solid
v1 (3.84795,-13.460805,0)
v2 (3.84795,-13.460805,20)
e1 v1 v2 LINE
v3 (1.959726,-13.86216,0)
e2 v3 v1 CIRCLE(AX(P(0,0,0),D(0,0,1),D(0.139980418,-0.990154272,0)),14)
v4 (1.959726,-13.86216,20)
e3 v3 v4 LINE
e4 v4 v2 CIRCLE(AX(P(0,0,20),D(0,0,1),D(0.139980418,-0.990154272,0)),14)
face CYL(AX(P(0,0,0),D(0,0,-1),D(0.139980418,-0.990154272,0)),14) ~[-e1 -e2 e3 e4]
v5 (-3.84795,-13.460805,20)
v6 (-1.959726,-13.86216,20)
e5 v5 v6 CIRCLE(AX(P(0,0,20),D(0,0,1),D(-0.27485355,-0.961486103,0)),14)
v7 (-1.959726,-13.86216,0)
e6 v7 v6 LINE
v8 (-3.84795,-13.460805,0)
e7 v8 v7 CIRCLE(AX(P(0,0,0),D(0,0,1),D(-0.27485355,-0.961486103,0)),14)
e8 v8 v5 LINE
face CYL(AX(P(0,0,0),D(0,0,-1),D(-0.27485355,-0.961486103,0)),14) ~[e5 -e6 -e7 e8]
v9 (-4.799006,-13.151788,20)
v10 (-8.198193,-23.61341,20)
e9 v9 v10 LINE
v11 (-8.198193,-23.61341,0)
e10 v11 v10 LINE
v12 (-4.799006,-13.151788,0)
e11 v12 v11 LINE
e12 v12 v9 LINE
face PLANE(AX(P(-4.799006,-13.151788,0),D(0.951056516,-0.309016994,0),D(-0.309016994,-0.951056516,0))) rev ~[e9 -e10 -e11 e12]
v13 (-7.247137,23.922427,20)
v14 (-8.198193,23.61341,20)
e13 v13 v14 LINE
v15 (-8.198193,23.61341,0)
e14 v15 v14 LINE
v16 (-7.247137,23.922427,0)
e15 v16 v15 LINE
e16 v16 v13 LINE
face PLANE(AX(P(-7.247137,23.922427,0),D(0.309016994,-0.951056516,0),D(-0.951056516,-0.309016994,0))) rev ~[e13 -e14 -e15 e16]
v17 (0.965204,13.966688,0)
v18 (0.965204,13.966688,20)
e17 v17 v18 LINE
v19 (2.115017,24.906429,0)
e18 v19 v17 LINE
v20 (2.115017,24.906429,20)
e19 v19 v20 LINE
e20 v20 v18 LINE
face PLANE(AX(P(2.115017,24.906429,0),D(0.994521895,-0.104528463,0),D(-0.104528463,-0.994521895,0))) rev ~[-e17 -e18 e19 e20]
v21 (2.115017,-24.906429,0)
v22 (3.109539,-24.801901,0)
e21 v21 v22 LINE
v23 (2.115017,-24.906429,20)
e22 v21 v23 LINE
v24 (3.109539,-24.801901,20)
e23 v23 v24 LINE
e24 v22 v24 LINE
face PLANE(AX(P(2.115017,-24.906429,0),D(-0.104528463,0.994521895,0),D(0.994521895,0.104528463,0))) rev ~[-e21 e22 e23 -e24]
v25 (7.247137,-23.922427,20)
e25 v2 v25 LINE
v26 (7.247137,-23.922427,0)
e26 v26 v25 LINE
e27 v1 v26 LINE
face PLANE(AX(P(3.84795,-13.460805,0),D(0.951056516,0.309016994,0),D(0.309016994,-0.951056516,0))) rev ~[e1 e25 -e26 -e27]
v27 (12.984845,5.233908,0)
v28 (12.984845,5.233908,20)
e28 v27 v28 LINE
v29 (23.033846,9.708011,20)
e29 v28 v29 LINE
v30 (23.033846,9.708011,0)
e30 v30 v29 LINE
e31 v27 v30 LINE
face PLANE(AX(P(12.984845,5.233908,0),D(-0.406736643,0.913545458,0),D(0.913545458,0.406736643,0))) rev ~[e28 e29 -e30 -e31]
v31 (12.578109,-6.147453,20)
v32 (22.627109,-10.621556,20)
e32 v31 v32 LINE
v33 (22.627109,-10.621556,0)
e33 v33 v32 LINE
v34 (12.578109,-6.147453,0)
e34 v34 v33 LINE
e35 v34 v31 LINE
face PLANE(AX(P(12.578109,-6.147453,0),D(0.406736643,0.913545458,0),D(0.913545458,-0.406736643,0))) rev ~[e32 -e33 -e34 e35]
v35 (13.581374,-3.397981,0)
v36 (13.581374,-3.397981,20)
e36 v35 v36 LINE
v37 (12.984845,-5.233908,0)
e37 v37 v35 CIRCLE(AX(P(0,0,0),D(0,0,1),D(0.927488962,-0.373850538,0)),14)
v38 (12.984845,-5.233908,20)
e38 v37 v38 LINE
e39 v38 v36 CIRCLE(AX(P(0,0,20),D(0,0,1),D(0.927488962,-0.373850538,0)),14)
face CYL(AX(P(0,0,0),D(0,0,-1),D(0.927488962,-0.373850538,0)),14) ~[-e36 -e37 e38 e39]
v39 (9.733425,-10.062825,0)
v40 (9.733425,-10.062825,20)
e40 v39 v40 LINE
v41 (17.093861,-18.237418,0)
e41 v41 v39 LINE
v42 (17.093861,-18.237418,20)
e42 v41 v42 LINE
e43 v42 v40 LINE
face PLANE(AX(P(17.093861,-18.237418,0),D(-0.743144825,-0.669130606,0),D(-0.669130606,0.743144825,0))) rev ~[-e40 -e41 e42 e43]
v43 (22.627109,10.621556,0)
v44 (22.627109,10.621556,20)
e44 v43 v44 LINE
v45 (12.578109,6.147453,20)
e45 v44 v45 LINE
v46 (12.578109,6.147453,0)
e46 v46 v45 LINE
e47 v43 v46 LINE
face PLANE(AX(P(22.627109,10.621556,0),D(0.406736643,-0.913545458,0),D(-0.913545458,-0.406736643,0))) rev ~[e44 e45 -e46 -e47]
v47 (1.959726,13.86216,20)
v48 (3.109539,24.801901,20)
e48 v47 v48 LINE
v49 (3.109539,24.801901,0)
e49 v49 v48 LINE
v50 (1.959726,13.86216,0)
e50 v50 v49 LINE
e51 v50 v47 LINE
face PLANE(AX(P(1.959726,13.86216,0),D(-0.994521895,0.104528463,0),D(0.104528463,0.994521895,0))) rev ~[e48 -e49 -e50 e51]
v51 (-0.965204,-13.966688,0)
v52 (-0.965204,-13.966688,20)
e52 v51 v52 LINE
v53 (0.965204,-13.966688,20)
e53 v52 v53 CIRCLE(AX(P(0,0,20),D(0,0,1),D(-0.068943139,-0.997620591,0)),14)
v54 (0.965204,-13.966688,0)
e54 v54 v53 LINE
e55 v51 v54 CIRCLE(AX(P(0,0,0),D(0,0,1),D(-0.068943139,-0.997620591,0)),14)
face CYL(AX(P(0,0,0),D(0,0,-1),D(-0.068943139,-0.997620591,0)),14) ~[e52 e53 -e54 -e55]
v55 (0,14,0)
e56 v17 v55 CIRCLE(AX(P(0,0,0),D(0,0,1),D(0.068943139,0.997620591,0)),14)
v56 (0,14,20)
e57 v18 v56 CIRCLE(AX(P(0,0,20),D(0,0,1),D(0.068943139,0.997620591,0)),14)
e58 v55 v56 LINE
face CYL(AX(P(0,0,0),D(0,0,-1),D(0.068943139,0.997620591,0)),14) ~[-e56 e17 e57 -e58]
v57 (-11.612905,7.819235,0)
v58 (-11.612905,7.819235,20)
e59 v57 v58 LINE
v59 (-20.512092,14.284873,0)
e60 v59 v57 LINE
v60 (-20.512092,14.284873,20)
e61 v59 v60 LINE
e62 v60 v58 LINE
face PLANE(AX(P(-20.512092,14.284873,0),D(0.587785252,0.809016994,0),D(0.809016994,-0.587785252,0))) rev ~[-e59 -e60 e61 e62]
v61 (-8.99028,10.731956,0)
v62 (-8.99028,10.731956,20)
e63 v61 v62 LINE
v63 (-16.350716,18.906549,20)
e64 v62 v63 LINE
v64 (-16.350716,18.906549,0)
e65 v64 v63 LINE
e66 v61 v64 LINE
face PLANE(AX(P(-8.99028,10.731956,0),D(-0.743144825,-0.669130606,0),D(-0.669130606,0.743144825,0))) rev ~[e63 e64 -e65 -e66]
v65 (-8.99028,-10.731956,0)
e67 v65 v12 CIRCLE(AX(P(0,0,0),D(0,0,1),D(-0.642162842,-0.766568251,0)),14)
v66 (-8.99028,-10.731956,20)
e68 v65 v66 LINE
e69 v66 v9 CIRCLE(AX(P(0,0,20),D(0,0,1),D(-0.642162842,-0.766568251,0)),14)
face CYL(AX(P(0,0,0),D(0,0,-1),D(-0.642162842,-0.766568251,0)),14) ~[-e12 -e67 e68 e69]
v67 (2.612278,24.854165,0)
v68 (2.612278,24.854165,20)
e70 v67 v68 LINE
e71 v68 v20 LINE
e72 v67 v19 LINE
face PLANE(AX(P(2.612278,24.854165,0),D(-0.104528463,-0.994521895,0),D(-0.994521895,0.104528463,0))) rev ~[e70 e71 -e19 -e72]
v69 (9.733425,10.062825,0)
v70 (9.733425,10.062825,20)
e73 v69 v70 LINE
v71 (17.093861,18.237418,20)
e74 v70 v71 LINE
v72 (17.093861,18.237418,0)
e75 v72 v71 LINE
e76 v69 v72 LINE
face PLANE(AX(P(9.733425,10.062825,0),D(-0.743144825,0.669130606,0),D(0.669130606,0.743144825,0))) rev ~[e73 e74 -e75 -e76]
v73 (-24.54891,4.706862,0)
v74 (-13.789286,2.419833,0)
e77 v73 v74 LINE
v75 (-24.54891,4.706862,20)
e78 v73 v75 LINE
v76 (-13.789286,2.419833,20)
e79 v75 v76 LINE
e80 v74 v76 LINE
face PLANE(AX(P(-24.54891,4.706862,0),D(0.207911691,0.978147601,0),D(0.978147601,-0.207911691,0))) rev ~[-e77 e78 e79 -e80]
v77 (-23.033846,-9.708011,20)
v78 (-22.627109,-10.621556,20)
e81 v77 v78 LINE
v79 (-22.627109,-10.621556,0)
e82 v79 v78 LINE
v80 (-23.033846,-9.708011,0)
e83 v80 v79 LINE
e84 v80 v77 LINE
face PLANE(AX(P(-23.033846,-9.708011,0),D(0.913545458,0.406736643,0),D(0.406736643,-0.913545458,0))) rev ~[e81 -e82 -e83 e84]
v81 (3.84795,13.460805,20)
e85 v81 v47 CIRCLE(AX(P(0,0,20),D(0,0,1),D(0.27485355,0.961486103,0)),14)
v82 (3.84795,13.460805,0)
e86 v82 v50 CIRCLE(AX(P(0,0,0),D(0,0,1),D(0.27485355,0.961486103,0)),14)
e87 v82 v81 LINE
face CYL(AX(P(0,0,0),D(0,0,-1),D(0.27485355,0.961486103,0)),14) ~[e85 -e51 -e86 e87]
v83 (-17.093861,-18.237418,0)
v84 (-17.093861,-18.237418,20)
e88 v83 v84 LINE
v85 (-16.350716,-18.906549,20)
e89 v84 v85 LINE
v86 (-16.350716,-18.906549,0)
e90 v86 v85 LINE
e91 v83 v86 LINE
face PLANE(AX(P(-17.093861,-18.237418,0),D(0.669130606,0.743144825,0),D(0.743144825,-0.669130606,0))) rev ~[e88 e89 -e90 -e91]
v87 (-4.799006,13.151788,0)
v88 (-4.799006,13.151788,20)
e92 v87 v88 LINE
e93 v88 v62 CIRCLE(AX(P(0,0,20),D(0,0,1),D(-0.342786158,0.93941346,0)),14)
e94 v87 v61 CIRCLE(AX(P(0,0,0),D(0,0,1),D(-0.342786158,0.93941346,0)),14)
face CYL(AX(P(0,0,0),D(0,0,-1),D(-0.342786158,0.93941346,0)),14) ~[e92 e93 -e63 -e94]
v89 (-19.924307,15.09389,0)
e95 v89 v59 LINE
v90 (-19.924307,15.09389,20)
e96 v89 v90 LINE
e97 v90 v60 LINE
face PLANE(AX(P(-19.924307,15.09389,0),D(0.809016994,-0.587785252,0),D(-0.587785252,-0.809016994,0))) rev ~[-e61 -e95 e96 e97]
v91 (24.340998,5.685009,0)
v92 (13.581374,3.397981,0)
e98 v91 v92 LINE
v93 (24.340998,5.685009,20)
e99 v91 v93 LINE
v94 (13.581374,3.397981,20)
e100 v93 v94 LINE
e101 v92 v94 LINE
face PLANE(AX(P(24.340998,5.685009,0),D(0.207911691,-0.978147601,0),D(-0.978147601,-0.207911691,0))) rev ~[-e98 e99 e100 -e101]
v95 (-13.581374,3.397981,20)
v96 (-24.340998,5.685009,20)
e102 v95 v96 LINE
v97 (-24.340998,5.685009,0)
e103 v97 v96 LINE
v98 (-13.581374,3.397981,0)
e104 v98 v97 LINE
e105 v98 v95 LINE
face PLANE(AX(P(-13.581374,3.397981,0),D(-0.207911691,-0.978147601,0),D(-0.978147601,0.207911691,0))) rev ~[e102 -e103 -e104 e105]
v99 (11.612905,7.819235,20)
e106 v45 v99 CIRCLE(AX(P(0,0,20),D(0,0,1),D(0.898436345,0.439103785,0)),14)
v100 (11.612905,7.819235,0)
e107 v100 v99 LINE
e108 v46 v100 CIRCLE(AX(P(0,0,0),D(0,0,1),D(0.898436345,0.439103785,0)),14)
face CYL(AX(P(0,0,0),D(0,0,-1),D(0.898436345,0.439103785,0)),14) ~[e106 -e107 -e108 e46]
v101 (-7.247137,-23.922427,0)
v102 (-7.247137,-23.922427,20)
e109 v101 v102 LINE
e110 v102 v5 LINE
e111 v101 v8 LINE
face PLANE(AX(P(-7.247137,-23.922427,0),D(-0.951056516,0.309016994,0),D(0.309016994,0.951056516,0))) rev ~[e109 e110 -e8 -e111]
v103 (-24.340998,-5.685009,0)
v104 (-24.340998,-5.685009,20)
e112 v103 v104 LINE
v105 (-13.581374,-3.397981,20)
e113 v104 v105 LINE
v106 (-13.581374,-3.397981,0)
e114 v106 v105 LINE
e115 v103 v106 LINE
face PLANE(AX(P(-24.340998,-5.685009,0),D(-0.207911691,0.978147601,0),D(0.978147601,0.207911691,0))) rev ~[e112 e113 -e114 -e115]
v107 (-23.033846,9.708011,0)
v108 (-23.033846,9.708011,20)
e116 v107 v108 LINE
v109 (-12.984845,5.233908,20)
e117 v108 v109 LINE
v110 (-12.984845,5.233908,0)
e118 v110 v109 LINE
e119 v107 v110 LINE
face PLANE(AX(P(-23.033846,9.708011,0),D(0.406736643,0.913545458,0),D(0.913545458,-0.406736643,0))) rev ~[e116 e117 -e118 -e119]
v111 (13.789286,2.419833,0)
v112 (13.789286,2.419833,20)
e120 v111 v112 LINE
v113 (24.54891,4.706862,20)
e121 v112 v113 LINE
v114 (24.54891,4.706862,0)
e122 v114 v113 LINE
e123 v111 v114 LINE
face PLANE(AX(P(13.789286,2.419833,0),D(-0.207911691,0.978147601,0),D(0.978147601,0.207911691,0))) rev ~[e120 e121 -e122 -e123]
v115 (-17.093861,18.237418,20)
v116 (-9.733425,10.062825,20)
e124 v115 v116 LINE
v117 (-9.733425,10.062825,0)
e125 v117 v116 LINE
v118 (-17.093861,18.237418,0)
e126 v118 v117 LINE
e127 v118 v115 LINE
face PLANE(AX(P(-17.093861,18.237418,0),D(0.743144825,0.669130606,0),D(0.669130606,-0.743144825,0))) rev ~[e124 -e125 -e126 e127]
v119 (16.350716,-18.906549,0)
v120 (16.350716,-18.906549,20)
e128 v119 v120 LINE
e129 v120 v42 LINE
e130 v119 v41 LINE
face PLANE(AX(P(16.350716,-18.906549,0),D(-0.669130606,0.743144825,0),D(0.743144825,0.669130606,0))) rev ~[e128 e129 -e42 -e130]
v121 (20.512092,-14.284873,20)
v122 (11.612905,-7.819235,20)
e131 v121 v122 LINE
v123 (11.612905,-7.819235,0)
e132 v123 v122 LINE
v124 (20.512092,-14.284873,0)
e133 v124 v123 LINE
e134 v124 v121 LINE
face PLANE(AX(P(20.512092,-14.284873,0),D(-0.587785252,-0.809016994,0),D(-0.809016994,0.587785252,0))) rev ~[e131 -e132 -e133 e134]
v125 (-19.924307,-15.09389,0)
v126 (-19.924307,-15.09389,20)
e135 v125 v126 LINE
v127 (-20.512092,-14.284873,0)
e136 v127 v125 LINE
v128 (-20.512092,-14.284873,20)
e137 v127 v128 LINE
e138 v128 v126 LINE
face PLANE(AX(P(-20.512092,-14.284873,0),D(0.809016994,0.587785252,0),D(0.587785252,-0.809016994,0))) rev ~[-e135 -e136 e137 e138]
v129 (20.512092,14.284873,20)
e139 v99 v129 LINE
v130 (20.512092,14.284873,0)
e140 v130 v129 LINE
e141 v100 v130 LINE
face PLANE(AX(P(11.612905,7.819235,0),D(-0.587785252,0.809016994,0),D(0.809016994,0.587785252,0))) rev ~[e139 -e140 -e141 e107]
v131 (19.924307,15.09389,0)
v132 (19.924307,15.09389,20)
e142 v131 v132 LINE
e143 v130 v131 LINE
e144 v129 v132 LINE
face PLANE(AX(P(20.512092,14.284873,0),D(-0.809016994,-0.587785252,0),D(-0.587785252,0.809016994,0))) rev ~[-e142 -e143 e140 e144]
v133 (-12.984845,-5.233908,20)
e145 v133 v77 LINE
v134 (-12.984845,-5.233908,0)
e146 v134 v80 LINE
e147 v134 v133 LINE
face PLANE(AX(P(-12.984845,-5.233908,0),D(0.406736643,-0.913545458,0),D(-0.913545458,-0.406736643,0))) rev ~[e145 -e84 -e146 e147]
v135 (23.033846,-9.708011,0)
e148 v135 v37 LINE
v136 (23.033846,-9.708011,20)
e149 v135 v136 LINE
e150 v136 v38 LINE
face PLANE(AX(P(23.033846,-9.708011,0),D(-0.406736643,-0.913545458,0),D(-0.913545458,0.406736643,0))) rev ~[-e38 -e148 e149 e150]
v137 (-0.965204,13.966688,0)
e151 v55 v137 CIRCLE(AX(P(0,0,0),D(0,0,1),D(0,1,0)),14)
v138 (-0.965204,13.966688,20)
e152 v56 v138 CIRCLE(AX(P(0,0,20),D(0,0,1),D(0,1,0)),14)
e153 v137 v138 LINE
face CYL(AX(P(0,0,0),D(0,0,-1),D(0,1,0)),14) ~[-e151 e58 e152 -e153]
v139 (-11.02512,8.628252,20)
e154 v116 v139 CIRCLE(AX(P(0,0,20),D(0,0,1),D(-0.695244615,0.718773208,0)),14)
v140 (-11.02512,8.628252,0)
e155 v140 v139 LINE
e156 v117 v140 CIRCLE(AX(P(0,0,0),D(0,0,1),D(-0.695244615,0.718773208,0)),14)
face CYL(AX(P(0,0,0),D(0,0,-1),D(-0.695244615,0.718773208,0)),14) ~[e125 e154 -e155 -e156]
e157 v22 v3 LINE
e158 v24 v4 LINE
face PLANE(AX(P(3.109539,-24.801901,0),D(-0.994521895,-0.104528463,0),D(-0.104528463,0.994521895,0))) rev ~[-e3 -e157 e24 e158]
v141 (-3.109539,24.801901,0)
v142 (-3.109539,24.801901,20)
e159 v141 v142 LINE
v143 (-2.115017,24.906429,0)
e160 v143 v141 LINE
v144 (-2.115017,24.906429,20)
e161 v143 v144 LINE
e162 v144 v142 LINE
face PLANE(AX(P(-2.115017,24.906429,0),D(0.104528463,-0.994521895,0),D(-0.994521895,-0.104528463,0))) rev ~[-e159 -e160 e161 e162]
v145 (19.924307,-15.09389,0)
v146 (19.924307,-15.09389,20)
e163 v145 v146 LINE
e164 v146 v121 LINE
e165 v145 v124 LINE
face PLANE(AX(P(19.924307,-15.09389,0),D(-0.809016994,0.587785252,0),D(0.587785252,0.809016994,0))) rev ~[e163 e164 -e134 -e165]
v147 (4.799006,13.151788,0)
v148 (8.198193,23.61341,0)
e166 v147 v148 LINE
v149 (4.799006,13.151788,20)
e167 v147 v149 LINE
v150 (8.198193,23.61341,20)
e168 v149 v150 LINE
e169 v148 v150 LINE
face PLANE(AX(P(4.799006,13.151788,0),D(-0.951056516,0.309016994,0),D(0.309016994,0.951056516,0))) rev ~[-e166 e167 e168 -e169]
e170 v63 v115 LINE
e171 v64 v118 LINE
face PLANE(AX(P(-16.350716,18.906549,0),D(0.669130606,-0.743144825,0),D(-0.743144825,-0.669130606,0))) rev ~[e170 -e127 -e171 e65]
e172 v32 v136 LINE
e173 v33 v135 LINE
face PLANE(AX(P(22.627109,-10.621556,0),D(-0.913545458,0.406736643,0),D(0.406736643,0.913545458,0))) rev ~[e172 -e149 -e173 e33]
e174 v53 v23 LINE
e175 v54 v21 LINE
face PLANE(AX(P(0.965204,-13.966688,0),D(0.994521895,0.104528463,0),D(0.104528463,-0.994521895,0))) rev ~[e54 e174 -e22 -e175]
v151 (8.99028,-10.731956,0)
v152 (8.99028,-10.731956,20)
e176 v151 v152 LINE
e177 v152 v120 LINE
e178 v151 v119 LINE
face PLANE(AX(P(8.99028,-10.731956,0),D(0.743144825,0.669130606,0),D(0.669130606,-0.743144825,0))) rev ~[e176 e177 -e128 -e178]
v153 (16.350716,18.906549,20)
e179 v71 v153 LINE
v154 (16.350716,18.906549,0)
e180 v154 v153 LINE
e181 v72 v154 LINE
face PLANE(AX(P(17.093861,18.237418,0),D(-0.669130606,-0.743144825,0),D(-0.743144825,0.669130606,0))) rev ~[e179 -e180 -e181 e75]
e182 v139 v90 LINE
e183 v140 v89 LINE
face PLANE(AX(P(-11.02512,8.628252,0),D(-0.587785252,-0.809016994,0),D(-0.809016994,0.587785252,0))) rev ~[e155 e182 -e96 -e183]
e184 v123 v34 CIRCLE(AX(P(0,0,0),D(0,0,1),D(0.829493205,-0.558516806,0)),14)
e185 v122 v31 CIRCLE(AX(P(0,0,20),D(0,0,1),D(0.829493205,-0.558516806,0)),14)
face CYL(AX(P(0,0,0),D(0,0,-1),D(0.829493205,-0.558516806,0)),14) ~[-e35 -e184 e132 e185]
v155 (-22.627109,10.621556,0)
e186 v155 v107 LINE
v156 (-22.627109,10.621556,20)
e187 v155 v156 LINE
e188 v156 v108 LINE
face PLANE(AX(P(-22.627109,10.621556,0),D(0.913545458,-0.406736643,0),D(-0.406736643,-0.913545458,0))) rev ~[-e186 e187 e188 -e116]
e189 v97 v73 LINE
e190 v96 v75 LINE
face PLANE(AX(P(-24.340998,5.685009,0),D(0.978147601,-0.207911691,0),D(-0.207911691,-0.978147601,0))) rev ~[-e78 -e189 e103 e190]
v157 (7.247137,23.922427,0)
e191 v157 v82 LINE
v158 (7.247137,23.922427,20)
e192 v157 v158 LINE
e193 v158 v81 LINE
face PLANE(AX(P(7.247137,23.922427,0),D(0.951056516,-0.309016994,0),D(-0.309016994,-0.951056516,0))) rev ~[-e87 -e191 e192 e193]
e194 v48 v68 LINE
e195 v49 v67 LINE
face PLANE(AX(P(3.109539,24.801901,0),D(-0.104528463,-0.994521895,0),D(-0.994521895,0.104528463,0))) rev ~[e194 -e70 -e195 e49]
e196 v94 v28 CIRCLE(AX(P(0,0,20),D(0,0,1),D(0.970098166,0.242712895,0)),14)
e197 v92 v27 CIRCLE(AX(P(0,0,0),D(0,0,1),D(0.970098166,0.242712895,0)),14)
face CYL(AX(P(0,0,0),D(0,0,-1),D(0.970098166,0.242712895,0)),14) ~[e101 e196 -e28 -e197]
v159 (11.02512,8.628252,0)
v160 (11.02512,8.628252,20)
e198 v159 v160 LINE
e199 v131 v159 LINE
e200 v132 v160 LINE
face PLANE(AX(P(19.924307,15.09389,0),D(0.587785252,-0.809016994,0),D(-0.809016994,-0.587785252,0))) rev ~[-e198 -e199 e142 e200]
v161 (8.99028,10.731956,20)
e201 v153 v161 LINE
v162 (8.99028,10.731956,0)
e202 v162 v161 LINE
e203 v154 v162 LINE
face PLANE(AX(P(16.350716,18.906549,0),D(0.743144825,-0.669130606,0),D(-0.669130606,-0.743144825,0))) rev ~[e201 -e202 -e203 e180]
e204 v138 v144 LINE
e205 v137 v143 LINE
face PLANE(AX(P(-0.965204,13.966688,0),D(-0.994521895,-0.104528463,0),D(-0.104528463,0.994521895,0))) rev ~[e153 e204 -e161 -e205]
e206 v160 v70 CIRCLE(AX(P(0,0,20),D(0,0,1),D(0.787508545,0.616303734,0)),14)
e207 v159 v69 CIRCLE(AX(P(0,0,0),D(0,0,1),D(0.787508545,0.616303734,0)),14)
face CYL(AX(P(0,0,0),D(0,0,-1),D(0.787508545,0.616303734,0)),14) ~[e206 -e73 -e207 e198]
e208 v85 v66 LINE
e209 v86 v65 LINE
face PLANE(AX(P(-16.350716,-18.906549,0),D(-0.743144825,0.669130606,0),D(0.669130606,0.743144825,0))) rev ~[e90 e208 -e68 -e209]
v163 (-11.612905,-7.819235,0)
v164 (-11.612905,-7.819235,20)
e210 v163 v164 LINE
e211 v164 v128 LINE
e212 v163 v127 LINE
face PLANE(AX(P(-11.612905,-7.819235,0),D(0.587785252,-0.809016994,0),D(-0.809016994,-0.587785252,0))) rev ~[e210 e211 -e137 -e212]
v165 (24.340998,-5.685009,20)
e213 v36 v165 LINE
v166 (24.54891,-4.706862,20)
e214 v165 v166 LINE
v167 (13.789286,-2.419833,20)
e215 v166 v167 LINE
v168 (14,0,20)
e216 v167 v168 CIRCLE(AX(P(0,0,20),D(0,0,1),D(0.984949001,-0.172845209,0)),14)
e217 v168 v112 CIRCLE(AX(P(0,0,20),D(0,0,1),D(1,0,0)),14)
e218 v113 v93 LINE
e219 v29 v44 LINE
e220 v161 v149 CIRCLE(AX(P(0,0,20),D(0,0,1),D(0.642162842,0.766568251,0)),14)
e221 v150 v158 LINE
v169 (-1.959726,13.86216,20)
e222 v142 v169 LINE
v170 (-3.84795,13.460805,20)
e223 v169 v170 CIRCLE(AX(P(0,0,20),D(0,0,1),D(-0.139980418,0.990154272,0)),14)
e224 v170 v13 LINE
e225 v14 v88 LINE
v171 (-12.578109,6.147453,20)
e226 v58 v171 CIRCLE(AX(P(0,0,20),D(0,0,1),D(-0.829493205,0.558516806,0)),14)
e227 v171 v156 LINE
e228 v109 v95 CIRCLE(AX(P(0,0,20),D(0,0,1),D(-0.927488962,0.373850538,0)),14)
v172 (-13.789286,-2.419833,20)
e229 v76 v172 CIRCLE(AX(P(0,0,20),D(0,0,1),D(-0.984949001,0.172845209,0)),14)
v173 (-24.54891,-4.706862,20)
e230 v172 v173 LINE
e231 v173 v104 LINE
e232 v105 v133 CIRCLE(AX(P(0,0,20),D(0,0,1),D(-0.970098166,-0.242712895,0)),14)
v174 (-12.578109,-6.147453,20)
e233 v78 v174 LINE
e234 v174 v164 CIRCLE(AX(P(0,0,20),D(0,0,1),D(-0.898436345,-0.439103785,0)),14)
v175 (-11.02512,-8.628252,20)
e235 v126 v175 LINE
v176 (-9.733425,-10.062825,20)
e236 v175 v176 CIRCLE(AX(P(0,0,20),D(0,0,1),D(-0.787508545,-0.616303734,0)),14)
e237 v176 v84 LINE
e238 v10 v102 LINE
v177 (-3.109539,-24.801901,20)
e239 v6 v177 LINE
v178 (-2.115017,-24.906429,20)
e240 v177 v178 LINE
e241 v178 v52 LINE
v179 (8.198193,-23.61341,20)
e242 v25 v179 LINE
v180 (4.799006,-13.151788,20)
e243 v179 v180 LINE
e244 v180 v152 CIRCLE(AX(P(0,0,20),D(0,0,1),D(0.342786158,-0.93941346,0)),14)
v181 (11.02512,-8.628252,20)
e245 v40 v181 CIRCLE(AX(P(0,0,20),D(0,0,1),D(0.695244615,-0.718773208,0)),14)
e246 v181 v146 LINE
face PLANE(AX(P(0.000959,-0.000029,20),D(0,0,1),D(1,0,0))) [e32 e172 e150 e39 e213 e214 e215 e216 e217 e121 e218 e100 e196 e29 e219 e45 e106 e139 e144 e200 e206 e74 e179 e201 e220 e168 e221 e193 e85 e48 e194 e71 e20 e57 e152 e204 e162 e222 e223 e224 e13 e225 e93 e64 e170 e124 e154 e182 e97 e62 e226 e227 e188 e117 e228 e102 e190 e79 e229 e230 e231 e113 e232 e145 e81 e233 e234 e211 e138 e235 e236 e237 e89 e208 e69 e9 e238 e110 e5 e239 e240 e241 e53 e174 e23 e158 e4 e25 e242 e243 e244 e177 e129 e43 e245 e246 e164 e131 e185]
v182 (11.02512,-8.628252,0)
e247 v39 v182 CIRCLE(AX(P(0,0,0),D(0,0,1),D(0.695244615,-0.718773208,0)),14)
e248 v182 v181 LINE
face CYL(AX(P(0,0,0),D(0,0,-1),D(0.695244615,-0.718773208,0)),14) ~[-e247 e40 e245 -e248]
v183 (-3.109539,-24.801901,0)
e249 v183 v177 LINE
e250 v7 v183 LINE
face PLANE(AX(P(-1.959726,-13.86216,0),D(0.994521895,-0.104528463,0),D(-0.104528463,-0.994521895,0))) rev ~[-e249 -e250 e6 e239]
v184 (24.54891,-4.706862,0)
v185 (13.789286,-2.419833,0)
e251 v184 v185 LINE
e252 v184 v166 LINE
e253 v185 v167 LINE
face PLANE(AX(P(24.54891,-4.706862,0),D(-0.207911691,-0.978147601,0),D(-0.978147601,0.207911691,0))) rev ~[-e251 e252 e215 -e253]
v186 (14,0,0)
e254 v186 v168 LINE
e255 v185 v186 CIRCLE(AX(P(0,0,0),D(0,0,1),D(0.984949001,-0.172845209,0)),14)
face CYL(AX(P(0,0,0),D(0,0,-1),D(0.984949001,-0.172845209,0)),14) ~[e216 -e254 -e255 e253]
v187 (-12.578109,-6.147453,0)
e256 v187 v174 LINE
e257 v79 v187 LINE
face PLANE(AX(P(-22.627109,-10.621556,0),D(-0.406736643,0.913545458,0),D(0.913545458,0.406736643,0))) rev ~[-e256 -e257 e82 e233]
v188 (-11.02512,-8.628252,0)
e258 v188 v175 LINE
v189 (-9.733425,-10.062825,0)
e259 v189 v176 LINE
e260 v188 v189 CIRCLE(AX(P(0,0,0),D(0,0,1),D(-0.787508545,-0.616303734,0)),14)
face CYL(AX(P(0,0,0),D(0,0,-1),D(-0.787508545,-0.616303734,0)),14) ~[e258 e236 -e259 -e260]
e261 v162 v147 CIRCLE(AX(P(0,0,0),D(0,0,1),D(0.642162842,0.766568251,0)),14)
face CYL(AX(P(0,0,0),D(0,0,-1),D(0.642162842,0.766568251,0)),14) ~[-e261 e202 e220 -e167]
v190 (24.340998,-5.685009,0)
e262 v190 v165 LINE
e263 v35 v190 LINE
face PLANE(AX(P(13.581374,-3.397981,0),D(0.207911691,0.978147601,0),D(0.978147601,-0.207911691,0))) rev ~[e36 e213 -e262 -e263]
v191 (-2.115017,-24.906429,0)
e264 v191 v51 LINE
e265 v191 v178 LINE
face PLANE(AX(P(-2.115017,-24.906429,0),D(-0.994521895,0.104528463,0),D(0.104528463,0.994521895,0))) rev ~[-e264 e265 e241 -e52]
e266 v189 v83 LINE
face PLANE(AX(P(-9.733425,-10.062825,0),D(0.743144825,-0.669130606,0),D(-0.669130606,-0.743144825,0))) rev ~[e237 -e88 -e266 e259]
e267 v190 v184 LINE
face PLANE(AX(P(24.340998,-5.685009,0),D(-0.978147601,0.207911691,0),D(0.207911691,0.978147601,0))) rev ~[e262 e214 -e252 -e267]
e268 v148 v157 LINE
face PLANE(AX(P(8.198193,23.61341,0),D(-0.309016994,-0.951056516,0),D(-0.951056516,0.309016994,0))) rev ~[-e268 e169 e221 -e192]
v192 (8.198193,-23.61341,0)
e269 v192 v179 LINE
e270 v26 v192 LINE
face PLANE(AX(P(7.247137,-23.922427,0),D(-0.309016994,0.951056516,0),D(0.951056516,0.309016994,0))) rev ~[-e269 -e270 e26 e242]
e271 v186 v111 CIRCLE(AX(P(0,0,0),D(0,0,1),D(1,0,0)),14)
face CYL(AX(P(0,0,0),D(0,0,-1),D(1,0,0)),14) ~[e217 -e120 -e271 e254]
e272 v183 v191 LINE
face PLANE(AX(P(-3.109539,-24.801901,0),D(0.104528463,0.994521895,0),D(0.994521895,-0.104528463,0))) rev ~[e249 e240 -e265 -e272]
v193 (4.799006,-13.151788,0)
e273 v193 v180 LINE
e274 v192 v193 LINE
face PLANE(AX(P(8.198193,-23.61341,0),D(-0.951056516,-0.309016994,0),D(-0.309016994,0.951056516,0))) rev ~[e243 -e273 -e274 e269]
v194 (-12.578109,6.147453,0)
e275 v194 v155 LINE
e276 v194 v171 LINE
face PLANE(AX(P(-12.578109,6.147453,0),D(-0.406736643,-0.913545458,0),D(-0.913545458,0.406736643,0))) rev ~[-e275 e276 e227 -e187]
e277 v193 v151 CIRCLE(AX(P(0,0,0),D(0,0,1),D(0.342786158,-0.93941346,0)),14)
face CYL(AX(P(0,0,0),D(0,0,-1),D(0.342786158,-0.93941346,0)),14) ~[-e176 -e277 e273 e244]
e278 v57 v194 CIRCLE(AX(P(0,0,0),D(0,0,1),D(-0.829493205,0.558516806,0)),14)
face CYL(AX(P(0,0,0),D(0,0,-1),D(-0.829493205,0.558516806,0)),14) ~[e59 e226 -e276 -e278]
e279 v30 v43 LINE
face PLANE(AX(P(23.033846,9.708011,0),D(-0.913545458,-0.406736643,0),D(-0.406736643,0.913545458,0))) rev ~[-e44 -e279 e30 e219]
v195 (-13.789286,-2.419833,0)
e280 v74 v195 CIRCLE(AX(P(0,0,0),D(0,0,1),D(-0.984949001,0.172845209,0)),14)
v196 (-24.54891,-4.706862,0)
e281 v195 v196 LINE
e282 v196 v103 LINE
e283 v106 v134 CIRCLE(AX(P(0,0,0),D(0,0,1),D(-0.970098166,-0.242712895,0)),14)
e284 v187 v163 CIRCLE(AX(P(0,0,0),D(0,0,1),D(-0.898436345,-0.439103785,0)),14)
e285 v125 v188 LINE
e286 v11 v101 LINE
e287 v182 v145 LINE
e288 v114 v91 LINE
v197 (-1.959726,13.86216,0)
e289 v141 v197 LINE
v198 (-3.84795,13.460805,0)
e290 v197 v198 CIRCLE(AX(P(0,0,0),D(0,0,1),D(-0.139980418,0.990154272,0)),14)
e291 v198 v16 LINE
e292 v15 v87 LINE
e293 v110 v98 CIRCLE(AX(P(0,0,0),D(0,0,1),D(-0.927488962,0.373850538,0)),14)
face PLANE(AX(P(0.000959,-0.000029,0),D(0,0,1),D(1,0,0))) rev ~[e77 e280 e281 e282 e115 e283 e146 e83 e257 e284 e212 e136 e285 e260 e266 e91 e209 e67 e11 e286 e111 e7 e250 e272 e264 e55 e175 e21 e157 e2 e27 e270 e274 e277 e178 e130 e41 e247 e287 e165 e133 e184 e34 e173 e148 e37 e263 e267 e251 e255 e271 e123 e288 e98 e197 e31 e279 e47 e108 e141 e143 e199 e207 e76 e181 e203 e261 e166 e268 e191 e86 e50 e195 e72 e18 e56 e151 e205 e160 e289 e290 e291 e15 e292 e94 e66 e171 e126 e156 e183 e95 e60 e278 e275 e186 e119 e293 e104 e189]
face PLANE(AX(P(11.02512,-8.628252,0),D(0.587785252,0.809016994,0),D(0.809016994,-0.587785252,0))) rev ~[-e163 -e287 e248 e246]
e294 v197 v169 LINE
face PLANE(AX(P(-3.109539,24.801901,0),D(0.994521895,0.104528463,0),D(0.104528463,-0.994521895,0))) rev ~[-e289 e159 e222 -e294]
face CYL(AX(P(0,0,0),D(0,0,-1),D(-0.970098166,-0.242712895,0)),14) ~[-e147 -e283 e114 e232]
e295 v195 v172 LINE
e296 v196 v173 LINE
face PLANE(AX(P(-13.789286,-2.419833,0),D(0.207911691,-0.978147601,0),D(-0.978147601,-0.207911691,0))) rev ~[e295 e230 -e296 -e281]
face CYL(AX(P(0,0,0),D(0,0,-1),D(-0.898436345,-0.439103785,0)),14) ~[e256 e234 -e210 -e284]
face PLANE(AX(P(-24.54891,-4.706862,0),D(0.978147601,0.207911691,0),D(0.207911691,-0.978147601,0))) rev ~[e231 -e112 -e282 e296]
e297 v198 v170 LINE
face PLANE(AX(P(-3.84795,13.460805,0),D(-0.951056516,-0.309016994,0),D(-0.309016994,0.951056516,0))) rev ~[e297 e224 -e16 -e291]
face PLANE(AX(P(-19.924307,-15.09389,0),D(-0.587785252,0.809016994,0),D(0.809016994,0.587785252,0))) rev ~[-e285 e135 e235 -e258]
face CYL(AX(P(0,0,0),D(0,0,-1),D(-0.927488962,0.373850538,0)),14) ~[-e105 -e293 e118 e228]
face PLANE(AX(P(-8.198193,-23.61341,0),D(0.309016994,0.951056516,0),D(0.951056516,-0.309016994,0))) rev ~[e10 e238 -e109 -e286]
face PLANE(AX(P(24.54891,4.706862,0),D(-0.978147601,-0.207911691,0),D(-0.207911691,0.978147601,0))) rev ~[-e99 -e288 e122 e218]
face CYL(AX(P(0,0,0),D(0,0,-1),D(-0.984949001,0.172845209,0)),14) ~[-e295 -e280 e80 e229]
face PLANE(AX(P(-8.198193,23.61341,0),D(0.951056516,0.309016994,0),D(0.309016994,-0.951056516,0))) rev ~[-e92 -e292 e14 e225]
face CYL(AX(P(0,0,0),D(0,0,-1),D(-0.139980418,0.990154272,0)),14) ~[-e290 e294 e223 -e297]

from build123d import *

# Parameters (mm, degrees)
F1_DEPTH = 20


with BuildPart() as f1:
    # F0 (on Top) → F1 (new body)
    with BuildSketch(Plane.XY):
        with BuildLine():
            ThreePointArc((13.7892860083, -2.4198329244), (13.9472220194, -1.2144949329), (14, 0))
            ThreePointArc((14, 0), (13.9472220194, 1.2144949329), (13.7892860083, 2.4198329244))
            ThreePointArc((13.7892860083, 2.4198329244), (13.6940664103, 2.9107636714), (13.5813743175, 3.3979805251))
            ThreePointArc((13.5813743175, 3.3979805251), (13.3147912281, 4.3262379212), (12.98484547, 5.2339075383))
            ThreePointArc((12.98484547, 5.2339075383), (12.789636407, 5.6943130031), (12.578108827, 6.1474529959))
            ThreePointArc((12.578108827, 6.1474529959), (12.124355653, 7), (11.6129048765, 7.8192352777))
            ThreePointArc((11.6129048765, 7.8192352777), (11.3262379212, 8.2289935321), (11.0251196242, 8.6282522721))
            ThreePointArc((11.0251196242, 8.6282522721), (10.4040275567, 9.367828489), (9.733424615, 10.0628249147))
            ThreePointArc((9.733424615, 10.0628249147), (9.367828489, 10.4040275567), (8.9902797896, 10.731955521))
            ThreePointArc((8.9902797896, 10.731955521), (7, 12.124355653), (4.7990062187, 13.1517884454))
            ThreePointArc((4.7990062187, 13.1517884454), (4.3262379212, 13.3147912281), (3.8479497024, 13.4608054398))
            ThreePointArc((3.8479497024, 13.4608054398), (2.9107636714, 13.6940664103), (1.9597258458, 13.8621598104))
            Line((1.9597258458, 13.8621598104), (0.9652039504, 13.9666882737))
            ThreePointArc((0.9652039504, 13.9666882737), (0.4828893085, 13.99166959), (0, 14))
            ThreePointArc((0, 14), (-0.4828893085, 13.99166959), (-0.9652039504, 13.9666882737))
            ThreePointArc((-0.9652039504, 13.9666882737), (-1.4633984857, 13.9233065352), (-1.9597258458, 13.8621598104))
            ThreePointArc((-1.9597258458, 13.8621598104), (-2.9107636714, 13.6940664103), (-3.8479497024, 13.4608054398))
            ThreePointArc((-3.8479497024, 13.4608054398), (-4.3262379212, 13.3147912281), (-4.7990062187, 13.1517884454))
            ThreePointArc((-4.7990062187, 13.1517884454), (-7, 12.124355653), (-8.9902797896, 10.731955521))
            ThreePointArc((-8.9902797896, 10.731955521), (-9.367828489, 10.4040275567), (-9.733424615, 10.0628249147))
            ThreePointArc((-9.733424615, 10.0628249147), (-10.4040275567, 9.367828489), (-11.0251196242, 8.6282522721))
            ThreePointArc((-11.0251196242, 8.6282522721), (-11.3262379212, 8.2289935321), (-11.6129048765, 7.8192352777))
            ThreePointArc((-11.6129048765, 7.8192352777), (-12.124355653, 7), (-12.578108827, 6.1474529959))
            ThreePointArc((-12.578108827, 6.1474529959), (-12.789636407, 5.6943130031), (-12.98484547, 5.2339075383))
            ThreePointArc((-12.98484547, 5.2339075383), (-13.3147912281, 4.3262379212), (-13.5813743175, 3.3979805251))
            ThreePointArc((-13.5813743175, 3.3979805251), (-13.6940664103, 2.9107636714), (-13.7892860083, 2.4198329244))
            ThreePointArc((-13.7892860083, 2.4198329244), (-14, 0), (-13.7892860083, -2.4198329244))
            ThreePointArc((-13.7892860083, -2.4198329244), (-13.6940664103, -2.9107636714), (-13.5813743175, -3.3979805251))
            ThreePointArc((-13.5813743175, -3.3979805251), (-13.3147912281, -4.3262379212), (-12.98484547, -5.2339075383))
            ThreePointArc((-12.98484547, -5.2339075383), (-12.789636407, -5.6943130031), (-12.578108827, -6.1474529959))
            ThreePointArc((-12.578108827, -6.1474529959), (-12.124355653, -7), (-11.6129048765, -7.8192352777))
            ThreePointArc((-11.6129048765, -7.8192352777), (-11.3262379212, -8.2289935321), (-11.0251196242, -8.6282522721))
            ThreePointArc((-11.0251196242, -8.6282522721), (-10.4040275567, -9.367828489), (-9.733424615, -10.0628249147))
            ThreePointArc((-9.733424615, -10.0628249147), (-9.367828489, -10.4040275567), (-8.9902797896, -10.731955521))
            ThreePointArc((-8.9902797896, -10.731955521), (-7, -12.124355653), (-4.7990062187, -13.1517884454))
            ThreePointArc((-4.7990062187, -13.1517884454), (-4.3262379212, -13.3147912281), (-3.8479497024, -13.4608054398))
            ThreePointArc((-3.8479497024, -13.4608054398), (-2.9107636714, -13.6940664103), (-1.9597258458, -13.8621598104))
            ThreePointArc((-1.9597258458, -13.8621598104), (-1.4633984857, -13.9233065352), (-0.9652039504, -13.9666882737))
            ThreePointArc((-0.9652039504, -13.9666882737), (0, -14), (0.9652039504, -13.9666882737))
            ThreePointArc((0.9652039504, -13.9666882737), (1.4633984857, -13.9233065352), (1.9597258458, -13.8621598104))
            ThreePointArc((1.9597258458, -13.8621598104), (2.9107636714, -13.6940664103), (3.8479497024, -13.4608054398))
            ThreePointArc((3.8479497024, -13.4608054398), (4.3262379212, -13.3147912281), (4.7990062187, -13.1517884454))
            ThreePointArc((4.7990062187, -13.1517884454), (7, -12.124355653), (8.9902797896, -10.731955521))
            ThreePointArc((8.9902797896, -10.731955521), (9.367828489, -10.4040275567), (9.733424615, -10.0628249147))
            ThreePointArc((9.733424615, -10.0628249147), (10.4040275567, -9.367828489), (11.0251196242, -8.6282522721))
            ThreePointArc((11.0251196242, -8.6282522721), (11.3262379212, -8.2289935321), (11.6129048765, -7.8192352777))
            ThreePointArc((11.6129048765, -7.8192352777), (12.124355653, -7), (12.578108827, -6.1474529959))
            ThreePointArc((12.578108827, -6.1474529959), (12.789636407, -5.6943130031), (12.98484547, -5.2339075383))
            ThreePointArc((12.98484547, -5.2339075383), (13.3147912281, -4.3262379212), (13.5813743175, -3.3979805251))
            ThreePointArc((13.5813743175, -3.3979805251), (13.6940664103, -2.9107636714), (13.7892860083, -2.4198329244))
        make_face()
        with BuildLine():
            ThreePointArc((13.5813743175, 3.3979805251), (13.6940664103, 2.9107636714), (13.7892860083, 2.4198329244))
            Line((13.7892860083, 2.4198329244), (24.5489096164, 4.7068615234))
            Line((24.5489096164, 4.7068615234), (24.3409979255, 5.6850091241))
            Line((24.3409979255, 5.6850091241), (13.5813743175, 3.3979805251))
        make_face()
        with BuildLine():
            Line((24.5489096164, -4.7068615234), (13.7892860083, -2.4198329244))
            ThreePointArc((13.7892860083, -2.4198329244), (13.6940664103, -2.9107636714), (13.5813743175, -3.3979805251))
            Line((13.5813743175, -3.3979805251), (24.3409979255, -5.6850091241))
            Line((24.3409979255, -5.6850091241), (24.5489096164, -4.7068615234))
        make_face()
        with BuildLine():
            ThreePointArc((12.578108827, 6.1474529959), (12.789636407, 5.6943130031), (12.98484547, 5.2339075383))
            Line((12.98484547, 5.2339075383), (23.0338455041, 9.7080106121))
            Line((23.0338455041, 9.7080106121), (22.627108861, 10.6215560698))
            Line((22.627108861, 10.6215560698), (12.578108827, 6.1474529959))
        make_face()
        with BuildLine():
            Line((23.0338455041, -9.7080106121), (12.98484547, -5.2339075383))
            ThreePointArc((12.98484547, -5.2339075383), (12.789636407, -5.6943130031), (12.578108827, -6.1474529959))
            Line((12.578108827, -6.1474529959), (22.627108861, -10.6215560698))
            Line((22.627108861, -10.6215560698), (23.0338455041, -9.7080106121))
        make_face()
        with BuildLine():
            ThreePointArc((11.0251196242, 8.6282522721), (11.3262379212, 8.2289935321), (11.6129048765, 7.8192352777))
            Line((11.6129048765, 7.8192352777), (20.5120918147, 14.284873053))
            Line((20.5120918147, 14.284873053), (19.9243065624, 15.0938900473))
            Line((19.9243065624, 15.0938900473), (11.0251196242, 8.6282522721))
        make_face()
        with BuildLine():
            Line((20.5120918147, -14.284873053), (11.6129048765, -7.8192352777))
            ThreePointArc((11.6129048765, -7.8192352777), (11.3262379212, -8.2289935321), (11.0251196242, -8.6282522721))
            Line((11.0251196242, -8.6282522721), (19.9243065624, -15.0938900473))
            Line((19.9243065624, -15.0938900473), (20.5120918147, -14.284873053))
        make_face()
        with BuildLine():
            ThreePointArc((8.9902797896, 10.731955521), (9.367828489, 10.4040275567), (9.733424615, 10.0628249147))
            Line((9.733424615, 10.0628249147), (17.093861285, 18.2374179949))
            Line((17.093861285, 18.2374179949), (16.3507164595, 18.9065486013))
            Line((16.3507164595, 18.9065486013), (8.9902797896, 10.731955521))
        make_face()
        with BuildLine():
            Line((17.093861285, -18.2374179949), (9.733424615, -10.0628249147))
            ThreePointArc((9.733424615, -10.0628249147), (9.367828489, -10.4040275567), (8.9902797896, -10.731955521))
            Line((8.9902797896, -10.731955521), (16.3507164595, -18.9065486013))
            Line((16.3507164595, -18.9065486013), (17.093861285, -18.2374179949))
        make_face()
        with BuildLine():
            ThreePointArc((3.8479497024, 13.4608054398), (4.3262379212, 13.3147912281), (4.7990062187, 13.1517884454))
            Line((4.7990062187, 13.1517884454), (8.1981931568, 23.6134101247))
            Line((8.1981931568, 23.6134101247), (7.2471366405, 23.922427119))
            Line((7.2471366405, 23.922427119), (3.8479497024, 13.4608054398))
        make_face()
        with BuildLine():
            Line((8.1981931568, -23.6134101247), (4.7990062187, -13.1517884454))
            ThreePointArc((4.7990062187, -13.1517884454), (4.3262379212, -13.3147912281), (3.8479497024, -13.4608054398))
            Line((3.8479497024, -13.4608054398), (7.2471366405, -23.922427119))
            Line((7.2471366405, -23.922427119), (8.1981931568, -23.6134101247))
        make_face()
        with BuildLine():
            Line((0.9652039504, 13.9666882737), (1.9597258458, 13.8621598104))
            ThreePointArc((1.9597258458, 13.8621598104), (1.7118352075, 13.8949494502), (1.4633984857, 13.9233065352))
            ThreePointArc((1.4633984857, 13.9233065352), (1.2144949329, 13.9472220194), (0.9652039504, 13.9666882737))
        make_face()
        with BuildLine():
            ThreePointArc((1.4633984857, 13.9233065352), (1.7118352075, 13.8949494502), (1.9597258458, 13.8621598104))
            Line((1.9597258458, 13.8621598104), (3.1095389417, 24.8019006595))
            Line((3.1095389417, 24.8019006595), (2.612277994, 24.8541648911))
            Line((2.612277994, 24.8541648911), (1.4633984857, 13.9233065352))
        make_face()
        with BuildLine():
            Line((3.1095389417, -24.8019006595), (1.9597258458, -13.8621598104))
            ThreePointArc((1.9597258458, -13.8621598104), (1.4633984857, -13.9233065352), (0.9652039504, -13.9666882737))
            Line((0.9652039504, -13.9666882737), (2.1150170464, -24.9064291227))
            Line((2.1150170464, -24.9064291227), (3.1095389417, -24.8019006595))
        make_face()
        with BuildLine():
            ThreePointArc((0.9652039504, 13.9666882737), (1.2144949329, 13.9472220194), (1.4633984857, 13.9233065352))
            Line((1.4633984857, 13.9233065352), (2.612277994, 24.8541648911))
            Line((2.612277994, 24.8541648911), (2.1150170464, 24.9064291227))
            Line((2.1150170464, 24.9064291227), (0.9652039504, 13.9666882737))
        make_face()
        with BuildLine():
            Line((-2.1150170464, -24.9064291227), (-0.9652039504, -13.9666882737))
            ThreePointArc((-0.9652039504, -13.9666882737), (-1.4633984857, -13.9233065352), (-1.9597258458, -13.8621598104))
            Line((-1.9597258458, -13.8621598104), (-3.1095389417, -24.8019006595))
            Line((-3.1095389417, -24.8019006595), (-2.1150170464, -24.9064291227))
        make_face()
        with BuildLine():
            ThreePointArc((-1.9597258458, 13.8621598104), (-1.4633984857, 13.9233065352), (-0.9652039504, 13.9666882737))
            Line((-0.9652039504, 13.9666882737), (-2.1150170464, 24.9064291227))
            Line((-2.1150170464, 24.9064291227), (-3.1095389417, 24.8019006595))
            Line((-3.1095389417, 24.8019006595), (-1.9597258458, 13.8621598104))
        make_face()
        with BuildLine():
            Line((-7.2471366405, -23.922427119), (-3.8479497024, -13.4608054398))
            ThreePointArc((-3.8479497024, -13.4608054398), (-4.3262379212, -13.3147912281), (-4.7990062187, -13.1517884454))
            Line((-4.7990062187, -13.1517884454), (-8.1981931568, -23.6134101247))
            Line((-8.1981931568, -23.6134101247), (-7.2471366405, -23.922427119))
        make_face()
        with BuildLine():
            ThreePointArc((-4.7990062187, 13.1517884454), (-4.3262379212, 13.3147912281), (-3.8479497024, 13.4608054398))
            Line((-3.8479497024, 13.4608054398), (-7.2471366405, 23.922427119))
            Line((-7.2471366405, 23.922427119), (-8.1981931568, 23.6134101247))
            Line((-8.1981931568, 23.6134101247), (-4.7990062187, 13.1517884454))
        make_face()
        with BuildLine():
            Line((-16.3507164595, -18.9065486013), (-8.9902797896, -10.731955521))
            ThreePointArc((-8.9902797896, -10.731955521), (-9.367828489, -10.4040275567), (-9.733424615, -10.0628249147))
            Line((-9.733424615, -10.0628249147), (-17.093861285, -18.2374179949))
            Line((-17.093861285, -18.2374179949), (-16.3507164595, -18.9065486013))
        make_face()
        with BuildLine():
            ThreePointArc((-9.733424615, 10.0628249147), (-9.367828489, 10.4040275567), (-8.9902797896, 10.731955521))
            Line((-8.9902797896, 10.731955521), (-16.3507164595, 18.9065486013))
            Line((-16.3507164595, 18.9065486013), (-17.093861285, 18.2374179949))
            Line((-17.093861285, 18.2374179949), (-9.733424615, 10.0628249147))
        make_face()
        with BuildLine():
            Line((-19.9243065624, -15.0938900473), (-11.0251196242, -8.6282522721))
            ThreePointArc((-11.0251196242, -8.6282522721), (-11.3262379212, -8.2289935321), (-11.6129048765, -7.8192352777))
            Line((-11.6129048765, -7.8192352777), (-20.5120918147, -14.284873053))
            Line((-20.5120918147, -14.284873053), (-19.9243065624, -15.0938900473))
        make_face()
        with BuildLine():
            ThreePointArc((-11.6129048765, 7.8192352777), (-11.3262379212, 8.2289935321), (-11.0251196242, 8.6282522721))
            Line((-11.0251196242, 8.6282522721), (-19.9243065624, 15.0938900473))
            Line((-19.9243065624, 15.0938900473), (-20.5120918147, 14.284873053))
            Line((-20.5120918147, 14.284873053), (-11.6129048765, 7.8192352777))
        make_face()
        with BuildLine():
            Line((-22.627108861, -10.6215560698), (-12.578108827, -6.1474529959))
            ThreePointArc((-12.578108827, -6.1474529959), (-12.789636407, -5.6943130031), (-12.98484547, -5.2339075383))
            Line((-12.98484547, -5.2339075383), (-23.0338455041, -9.7080106121))
            Line((-23.0338455041, -9.7080106121), (-22.627108861, -10.6215560698))
        make_face()
        with BuildLine():
            ThreePointArc((-12.98484547, 5.2339075383), (-12.789636407, 5.6943130031), (-12.578108827, 6.1474529959))
            Line((-12.578108827, 6.1474529959), (-22.627108861, 10.6215560698))
            Line((-22.627108861, 10.6215560698), (-23.0338455041, 9.7080106121))
            Line((-23.0338455041, 9.7080106121), (-12.98484547, 5.2339075383))
        make_face()
        with BuildLine():
            Line((-24.3409979255, -5.6850091241), (-13.5813743175, -3.3979805251))
            ThreePointArc((-13.5813743175, -3.3979805251), (-13.6940664103, -2.9107636714), (-13.7892860083, -2.4198329244))
            Line((-13.7892860083, -2.4198329244), (-24.5489096164, -4.7068615234))
            Line((-24.5489096164, -4.7068615234), (-24.3409979255, -5.6850091241))
        make_face()
        with BuildLine():
            ThreePointArc((-13.7892860083, 2.4198329244), (-13.6940664103, 2.9107636714), (-13.5813743175, 3.3979805251))
            Line((-13.5813743175, 3.3979805251), (-24.3409979255, 5.6850091241))
            Line((-24.3409979255, 5.6850091241), (-24.5489096164, 4.7068615234))
            Line((-24.5489096164, 4.7068615234), (-13.7892860083, 2.4198329244))
        make_face()
    extrude(amount=F1_DEPTH)


solid = f1.part
